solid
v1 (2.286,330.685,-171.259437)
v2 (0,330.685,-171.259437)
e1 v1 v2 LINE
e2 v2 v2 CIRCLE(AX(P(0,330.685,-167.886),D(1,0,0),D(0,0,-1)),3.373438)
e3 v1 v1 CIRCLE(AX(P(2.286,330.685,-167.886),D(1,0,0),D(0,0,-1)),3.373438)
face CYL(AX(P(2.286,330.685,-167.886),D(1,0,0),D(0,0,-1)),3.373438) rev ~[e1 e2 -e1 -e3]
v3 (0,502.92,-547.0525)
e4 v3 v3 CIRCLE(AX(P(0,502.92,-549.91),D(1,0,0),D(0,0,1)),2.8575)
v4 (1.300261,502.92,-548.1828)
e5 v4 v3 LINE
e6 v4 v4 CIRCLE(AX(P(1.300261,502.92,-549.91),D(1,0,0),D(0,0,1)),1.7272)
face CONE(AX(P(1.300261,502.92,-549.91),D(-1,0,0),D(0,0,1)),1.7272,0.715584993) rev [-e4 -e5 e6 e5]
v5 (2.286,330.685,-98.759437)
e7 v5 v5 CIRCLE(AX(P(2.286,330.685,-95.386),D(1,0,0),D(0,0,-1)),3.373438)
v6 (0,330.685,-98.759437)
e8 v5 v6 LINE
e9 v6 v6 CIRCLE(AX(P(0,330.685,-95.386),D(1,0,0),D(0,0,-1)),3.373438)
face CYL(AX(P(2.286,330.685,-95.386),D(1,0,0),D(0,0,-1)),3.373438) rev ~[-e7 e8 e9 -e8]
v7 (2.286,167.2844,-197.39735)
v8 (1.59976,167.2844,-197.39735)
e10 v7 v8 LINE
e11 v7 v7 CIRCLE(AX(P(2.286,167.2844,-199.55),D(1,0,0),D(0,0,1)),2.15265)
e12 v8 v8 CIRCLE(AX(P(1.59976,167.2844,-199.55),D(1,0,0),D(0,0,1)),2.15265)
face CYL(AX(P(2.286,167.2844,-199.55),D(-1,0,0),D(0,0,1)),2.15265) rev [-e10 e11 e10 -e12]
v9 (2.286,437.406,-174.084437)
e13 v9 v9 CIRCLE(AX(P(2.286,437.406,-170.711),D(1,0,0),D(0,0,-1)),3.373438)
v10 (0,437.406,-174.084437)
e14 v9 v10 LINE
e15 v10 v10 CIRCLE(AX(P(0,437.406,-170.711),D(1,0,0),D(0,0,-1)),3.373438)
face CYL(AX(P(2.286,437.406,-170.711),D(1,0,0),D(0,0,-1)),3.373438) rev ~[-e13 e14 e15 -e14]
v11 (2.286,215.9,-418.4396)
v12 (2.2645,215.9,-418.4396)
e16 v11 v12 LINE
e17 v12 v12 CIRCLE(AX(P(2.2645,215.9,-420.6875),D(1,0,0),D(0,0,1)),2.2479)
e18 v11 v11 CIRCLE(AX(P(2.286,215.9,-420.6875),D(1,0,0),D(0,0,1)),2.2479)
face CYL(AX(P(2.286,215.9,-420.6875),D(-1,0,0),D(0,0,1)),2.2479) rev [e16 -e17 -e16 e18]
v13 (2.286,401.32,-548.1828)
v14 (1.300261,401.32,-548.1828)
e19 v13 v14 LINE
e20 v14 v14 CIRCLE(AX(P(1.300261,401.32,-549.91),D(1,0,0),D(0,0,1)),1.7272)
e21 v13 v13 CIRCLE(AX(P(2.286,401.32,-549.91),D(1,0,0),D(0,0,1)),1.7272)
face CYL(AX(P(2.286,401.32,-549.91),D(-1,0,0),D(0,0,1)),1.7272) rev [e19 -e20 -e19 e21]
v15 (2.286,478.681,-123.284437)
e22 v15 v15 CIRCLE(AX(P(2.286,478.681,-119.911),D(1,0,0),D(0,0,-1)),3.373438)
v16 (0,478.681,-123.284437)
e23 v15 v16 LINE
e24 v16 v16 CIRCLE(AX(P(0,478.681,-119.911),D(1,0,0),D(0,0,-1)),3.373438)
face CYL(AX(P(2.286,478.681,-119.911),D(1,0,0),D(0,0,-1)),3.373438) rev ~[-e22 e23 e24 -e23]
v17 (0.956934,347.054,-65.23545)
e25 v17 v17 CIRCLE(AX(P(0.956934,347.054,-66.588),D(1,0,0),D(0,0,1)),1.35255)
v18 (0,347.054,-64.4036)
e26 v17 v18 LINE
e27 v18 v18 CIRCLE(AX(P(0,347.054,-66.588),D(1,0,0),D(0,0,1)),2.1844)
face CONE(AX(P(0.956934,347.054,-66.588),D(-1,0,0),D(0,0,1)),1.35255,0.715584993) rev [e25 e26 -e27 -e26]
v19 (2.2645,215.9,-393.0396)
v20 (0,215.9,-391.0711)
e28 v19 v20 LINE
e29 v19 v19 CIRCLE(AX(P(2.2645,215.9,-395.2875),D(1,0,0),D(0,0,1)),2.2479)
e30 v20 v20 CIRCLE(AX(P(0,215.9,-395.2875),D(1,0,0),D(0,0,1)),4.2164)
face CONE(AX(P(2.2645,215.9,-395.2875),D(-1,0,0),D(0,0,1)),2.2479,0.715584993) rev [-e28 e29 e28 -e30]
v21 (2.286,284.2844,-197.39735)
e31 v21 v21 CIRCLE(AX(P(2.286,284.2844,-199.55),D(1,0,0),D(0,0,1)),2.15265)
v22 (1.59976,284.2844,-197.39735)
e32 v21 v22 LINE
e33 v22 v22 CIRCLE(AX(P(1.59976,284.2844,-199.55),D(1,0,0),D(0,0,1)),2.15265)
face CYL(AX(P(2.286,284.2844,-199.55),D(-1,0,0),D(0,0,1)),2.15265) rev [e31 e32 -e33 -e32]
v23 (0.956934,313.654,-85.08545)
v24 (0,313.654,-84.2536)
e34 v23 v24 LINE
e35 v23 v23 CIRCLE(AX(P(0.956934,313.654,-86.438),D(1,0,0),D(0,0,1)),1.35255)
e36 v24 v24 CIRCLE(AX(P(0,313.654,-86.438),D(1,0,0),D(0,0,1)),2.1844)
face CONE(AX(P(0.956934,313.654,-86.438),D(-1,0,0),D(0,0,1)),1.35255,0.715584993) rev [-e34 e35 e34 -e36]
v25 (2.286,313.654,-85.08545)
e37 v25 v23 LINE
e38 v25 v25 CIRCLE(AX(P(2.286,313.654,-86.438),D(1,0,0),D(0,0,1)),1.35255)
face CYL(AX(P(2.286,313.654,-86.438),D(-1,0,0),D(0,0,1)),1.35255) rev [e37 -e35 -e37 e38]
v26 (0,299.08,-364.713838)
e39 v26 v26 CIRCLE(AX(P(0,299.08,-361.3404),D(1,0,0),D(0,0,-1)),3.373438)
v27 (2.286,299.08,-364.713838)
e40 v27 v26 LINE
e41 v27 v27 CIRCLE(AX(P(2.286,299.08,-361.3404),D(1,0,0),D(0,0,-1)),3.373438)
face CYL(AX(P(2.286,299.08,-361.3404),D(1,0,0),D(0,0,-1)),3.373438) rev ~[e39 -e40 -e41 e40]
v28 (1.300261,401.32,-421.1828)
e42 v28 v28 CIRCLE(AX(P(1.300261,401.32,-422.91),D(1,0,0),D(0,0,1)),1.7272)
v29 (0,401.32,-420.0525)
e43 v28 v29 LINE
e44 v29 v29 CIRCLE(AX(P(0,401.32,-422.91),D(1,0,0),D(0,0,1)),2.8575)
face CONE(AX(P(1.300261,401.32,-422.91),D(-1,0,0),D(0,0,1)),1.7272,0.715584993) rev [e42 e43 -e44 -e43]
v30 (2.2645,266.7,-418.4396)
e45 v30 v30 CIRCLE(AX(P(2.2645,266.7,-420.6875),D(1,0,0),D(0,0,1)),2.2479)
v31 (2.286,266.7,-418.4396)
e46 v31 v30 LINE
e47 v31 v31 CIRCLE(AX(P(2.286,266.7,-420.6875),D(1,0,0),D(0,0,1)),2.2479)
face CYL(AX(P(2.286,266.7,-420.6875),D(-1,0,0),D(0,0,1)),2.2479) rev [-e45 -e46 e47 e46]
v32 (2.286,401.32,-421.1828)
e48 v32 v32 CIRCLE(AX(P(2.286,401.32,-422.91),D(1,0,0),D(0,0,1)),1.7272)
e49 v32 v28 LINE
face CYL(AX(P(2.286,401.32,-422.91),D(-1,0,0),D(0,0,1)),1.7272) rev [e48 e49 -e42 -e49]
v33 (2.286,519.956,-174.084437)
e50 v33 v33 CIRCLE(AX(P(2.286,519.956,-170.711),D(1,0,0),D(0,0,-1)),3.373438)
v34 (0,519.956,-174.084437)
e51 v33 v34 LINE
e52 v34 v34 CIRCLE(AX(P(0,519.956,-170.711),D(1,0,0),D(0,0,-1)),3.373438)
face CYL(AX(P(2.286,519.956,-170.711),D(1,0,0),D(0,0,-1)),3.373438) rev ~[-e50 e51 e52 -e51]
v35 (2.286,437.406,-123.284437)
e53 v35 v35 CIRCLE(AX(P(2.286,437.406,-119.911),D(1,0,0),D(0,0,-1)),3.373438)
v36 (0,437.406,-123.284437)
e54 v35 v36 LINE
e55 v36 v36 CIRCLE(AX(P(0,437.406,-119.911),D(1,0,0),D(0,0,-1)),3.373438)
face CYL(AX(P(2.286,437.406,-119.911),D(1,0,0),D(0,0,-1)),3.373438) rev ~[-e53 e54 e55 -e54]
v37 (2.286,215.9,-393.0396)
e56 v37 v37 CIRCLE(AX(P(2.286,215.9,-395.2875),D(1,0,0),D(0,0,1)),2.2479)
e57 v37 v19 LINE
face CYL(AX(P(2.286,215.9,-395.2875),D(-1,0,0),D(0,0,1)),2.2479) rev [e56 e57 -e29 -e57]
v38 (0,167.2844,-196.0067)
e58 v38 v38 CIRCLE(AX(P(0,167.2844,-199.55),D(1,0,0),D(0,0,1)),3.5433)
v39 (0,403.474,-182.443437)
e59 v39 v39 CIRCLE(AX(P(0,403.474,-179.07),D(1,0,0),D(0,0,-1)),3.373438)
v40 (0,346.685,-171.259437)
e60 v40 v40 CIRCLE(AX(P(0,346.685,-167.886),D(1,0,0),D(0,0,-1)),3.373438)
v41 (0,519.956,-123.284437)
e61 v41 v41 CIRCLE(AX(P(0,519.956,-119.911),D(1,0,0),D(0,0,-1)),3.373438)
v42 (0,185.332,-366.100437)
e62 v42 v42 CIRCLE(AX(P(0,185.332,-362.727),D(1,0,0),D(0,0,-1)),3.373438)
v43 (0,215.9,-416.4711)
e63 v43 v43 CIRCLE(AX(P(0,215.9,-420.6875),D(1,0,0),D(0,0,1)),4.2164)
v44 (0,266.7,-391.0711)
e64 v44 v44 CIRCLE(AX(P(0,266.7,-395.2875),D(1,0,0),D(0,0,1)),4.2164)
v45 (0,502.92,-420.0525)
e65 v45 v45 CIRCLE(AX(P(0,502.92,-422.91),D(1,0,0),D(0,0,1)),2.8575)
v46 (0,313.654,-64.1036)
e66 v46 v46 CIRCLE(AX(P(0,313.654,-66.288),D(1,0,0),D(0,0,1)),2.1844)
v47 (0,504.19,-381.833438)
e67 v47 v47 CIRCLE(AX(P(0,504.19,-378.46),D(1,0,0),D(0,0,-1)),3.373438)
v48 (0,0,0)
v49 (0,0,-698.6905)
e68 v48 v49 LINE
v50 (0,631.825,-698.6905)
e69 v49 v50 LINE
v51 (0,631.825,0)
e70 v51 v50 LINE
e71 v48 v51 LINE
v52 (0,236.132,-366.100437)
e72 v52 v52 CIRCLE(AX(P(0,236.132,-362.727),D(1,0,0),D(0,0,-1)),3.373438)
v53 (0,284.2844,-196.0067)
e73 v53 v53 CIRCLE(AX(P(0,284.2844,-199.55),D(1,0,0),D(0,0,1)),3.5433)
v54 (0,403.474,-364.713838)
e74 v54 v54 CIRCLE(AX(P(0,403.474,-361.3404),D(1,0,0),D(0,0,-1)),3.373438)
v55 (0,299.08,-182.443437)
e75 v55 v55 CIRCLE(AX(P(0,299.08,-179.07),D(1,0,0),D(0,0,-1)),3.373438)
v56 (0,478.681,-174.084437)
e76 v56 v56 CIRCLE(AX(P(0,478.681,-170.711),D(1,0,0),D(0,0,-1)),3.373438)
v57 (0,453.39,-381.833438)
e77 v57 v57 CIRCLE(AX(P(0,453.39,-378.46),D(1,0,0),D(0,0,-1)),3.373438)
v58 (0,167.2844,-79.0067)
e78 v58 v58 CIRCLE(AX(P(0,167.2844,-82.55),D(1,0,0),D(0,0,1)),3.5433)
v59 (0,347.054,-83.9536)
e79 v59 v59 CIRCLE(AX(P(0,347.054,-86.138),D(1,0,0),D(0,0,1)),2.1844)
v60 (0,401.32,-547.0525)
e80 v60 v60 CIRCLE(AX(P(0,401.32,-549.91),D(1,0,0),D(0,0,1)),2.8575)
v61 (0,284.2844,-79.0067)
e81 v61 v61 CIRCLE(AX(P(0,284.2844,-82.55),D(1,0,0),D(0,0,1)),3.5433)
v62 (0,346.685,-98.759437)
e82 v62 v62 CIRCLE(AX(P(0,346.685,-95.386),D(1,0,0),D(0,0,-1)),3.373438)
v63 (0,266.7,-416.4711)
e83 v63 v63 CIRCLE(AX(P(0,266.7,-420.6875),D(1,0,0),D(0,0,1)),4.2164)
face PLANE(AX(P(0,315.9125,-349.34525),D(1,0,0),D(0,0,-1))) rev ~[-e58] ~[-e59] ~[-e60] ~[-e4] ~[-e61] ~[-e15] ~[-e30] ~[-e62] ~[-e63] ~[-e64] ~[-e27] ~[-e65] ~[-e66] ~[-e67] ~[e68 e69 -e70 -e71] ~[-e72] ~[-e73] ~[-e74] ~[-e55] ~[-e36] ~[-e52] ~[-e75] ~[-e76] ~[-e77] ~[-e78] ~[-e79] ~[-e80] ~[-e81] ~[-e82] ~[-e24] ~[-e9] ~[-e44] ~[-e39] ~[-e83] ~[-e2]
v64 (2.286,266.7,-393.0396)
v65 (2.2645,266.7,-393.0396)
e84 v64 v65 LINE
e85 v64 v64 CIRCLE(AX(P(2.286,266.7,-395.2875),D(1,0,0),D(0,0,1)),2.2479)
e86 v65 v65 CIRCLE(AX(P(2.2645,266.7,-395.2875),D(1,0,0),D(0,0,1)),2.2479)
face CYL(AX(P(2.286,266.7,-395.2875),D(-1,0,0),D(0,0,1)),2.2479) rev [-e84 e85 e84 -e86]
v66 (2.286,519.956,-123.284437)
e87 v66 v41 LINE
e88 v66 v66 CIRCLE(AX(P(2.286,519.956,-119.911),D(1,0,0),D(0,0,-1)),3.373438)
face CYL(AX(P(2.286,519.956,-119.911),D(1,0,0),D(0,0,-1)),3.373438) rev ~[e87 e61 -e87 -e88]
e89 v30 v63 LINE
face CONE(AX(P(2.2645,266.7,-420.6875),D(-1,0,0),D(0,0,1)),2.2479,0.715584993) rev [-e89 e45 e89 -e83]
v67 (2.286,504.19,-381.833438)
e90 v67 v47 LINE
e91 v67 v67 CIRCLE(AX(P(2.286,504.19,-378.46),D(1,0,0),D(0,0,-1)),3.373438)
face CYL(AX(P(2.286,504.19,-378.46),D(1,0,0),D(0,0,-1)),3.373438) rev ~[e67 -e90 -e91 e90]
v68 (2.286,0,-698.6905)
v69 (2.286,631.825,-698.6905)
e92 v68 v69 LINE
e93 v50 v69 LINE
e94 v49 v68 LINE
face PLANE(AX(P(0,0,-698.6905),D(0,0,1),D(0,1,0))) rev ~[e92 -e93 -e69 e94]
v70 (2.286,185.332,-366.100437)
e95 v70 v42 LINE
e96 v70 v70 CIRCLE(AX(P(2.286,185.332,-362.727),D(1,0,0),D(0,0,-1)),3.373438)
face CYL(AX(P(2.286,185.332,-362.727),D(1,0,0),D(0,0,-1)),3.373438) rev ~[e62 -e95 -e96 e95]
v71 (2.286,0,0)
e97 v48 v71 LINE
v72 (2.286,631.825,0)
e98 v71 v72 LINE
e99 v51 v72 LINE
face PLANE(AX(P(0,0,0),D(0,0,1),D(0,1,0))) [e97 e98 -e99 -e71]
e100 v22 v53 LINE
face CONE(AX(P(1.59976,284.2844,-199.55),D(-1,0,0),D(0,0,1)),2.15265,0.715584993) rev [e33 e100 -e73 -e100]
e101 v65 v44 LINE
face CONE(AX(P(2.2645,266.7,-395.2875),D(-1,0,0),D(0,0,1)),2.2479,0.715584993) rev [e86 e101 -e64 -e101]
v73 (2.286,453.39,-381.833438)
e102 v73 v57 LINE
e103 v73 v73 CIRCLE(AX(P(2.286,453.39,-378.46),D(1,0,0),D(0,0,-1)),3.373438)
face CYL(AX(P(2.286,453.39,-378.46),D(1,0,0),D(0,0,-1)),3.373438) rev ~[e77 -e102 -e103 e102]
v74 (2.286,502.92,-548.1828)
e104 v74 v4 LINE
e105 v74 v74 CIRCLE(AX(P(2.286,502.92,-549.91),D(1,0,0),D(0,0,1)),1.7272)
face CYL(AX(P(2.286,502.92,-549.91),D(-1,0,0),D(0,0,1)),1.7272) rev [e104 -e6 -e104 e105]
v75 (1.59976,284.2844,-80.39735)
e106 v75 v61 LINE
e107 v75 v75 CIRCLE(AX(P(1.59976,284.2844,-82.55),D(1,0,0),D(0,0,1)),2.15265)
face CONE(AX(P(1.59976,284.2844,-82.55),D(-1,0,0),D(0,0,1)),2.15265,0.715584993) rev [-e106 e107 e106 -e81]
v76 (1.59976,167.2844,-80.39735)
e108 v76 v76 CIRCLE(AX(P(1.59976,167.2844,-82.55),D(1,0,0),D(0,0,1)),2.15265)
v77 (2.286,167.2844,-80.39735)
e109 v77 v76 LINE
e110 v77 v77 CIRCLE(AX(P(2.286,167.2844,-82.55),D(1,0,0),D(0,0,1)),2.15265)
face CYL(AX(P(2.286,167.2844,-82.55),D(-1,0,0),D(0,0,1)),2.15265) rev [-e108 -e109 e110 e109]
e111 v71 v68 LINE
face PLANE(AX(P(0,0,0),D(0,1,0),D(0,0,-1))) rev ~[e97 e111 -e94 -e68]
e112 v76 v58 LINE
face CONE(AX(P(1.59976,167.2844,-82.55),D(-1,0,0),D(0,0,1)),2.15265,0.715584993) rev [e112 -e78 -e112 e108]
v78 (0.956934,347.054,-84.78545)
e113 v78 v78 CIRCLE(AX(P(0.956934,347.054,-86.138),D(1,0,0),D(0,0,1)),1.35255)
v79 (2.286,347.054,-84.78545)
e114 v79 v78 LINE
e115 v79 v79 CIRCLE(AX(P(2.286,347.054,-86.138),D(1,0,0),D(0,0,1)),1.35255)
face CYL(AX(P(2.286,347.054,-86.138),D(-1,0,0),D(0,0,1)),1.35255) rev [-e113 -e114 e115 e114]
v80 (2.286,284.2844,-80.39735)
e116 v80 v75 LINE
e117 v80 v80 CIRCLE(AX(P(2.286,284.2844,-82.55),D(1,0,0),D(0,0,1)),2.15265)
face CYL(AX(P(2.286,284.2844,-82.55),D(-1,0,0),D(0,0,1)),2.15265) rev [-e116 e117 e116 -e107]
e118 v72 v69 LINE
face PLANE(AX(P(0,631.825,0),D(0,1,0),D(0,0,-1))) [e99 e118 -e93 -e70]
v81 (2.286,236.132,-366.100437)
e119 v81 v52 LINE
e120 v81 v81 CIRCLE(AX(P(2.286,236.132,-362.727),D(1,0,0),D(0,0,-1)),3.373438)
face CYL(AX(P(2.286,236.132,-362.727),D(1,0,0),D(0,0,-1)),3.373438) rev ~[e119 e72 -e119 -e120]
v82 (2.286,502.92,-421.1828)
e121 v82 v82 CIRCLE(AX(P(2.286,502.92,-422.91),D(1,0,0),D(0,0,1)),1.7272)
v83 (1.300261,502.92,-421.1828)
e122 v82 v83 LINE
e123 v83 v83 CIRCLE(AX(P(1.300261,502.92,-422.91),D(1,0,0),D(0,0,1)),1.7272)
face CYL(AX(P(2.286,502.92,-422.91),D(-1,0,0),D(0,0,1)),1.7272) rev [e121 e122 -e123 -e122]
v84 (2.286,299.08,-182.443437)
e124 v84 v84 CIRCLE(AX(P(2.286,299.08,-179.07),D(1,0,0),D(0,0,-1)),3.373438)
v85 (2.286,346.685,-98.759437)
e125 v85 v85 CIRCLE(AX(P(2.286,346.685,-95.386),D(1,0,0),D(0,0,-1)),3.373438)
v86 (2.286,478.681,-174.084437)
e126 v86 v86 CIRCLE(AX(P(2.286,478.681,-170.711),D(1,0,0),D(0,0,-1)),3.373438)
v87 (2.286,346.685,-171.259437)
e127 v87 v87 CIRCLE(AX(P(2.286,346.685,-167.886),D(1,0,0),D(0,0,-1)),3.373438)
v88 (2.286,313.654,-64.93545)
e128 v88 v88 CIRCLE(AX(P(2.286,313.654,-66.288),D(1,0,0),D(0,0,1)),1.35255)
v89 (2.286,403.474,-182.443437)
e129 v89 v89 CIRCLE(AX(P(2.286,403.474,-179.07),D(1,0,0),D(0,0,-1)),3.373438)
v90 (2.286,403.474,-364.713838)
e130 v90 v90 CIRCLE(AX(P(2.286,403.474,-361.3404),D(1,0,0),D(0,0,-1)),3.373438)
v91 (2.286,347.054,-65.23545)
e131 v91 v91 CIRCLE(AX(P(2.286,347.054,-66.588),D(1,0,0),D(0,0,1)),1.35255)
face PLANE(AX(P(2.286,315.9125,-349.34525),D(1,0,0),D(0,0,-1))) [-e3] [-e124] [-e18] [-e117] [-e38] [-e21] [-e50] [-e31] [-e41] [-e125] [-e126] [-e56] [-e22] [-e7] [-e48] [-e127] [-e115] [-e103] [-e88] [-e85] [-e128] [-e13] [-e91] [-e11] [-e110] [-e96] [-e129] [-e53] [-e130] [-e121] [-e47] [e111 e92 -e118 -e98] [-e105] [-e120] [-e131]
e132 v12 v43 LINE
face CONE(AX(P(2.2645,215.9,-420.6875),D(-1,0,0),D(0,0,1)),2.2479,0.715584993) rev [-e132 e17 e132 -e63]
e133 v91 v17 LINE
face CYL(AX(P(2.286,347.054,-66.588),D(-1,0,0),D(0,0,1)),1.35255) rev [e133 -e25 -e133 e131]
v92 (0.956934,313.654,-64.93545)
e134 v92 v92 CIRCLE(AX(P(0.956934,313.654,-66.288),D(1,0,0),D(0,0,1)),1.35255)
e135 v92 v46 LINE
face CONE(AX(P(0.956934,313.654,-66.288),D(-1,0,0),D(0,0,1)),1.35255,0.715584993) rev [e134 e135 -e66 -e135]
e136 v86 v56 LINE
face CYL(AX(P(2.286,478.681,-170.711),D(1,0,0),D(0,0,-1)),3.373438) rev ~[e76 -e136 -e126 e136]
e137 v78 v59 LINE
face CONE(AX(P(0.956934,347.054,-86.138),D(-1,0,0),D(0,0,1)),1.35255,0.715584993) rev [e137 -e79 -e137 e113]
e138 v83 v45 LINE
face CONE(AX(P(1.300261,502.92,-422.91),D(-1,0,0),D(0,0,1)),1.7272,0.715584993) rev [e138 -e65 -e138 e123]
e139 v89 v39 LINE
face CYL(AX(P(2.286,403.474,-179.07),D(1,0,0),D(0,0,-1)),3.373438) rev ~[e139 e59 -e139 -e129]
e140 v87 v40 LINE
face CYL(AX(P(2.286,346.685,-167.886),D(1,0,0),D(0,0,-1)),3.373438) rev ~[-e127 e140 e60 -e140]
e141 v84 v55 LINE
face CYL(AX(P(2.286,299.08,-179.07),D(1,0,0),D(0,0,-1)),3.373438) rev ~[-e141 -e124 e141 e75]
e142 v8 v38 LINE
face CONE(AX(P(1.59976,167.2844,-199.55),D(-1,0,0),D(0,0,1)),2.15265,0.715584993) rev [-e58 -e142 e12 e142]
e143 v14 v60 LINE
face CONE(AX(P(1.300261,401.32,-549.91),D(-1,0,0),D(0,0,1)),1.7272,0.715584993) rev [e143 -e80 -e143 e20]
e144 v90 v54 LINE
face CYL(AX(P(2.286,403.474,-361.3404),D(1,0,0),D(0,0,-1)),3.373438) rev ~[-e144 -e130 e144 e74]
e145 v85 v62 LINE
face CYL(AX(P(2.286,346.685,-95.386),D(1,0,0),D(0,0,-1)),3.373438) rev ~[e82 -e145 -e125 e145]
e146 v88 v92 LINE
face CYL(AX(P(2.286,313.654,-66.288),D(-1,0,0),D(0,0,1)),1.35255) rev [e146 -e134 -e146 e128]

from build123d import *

# Parameters (mm, degrees)
SKETCH1_W                                     = 698.6905
SKETCH1_H                                     = 631.825
BOSS_EXTRUDE1_DEPTH                           = 2.286
SKETCH3_R                                     = 3.3734375
CUT_EXTRUDE1_DEPTH                            = 943.006619516
CSK_FOR_6_FLAT_HEAD_MACHINE_SCREW1_AT_2_COUNT = 2
CSK_FOR_6_FLAT_HEAD_MACHINE_SCREW1_AT_2_PITCH = 117
CSK_FOR_6_FLAT_HEAD_MACHINE_SCREW1_AT_3_COUNT = 2
CSK_FOR_6_FLAT_HEAD_MACHINE_SCREW1_AT_3_PITCH = 165.462986798
CSK_FOR_6_FLAT_HEAD_MACHINE_SCREW1_AT_4_COUNT = 2
CSK_FOR_6_FLAT_HEAD_MACHINE_SCREW1_AT_4_PITCH = 117
CSK_FOR_2_FLAT_HEAD_MACHINE_SCREW1_AT_2_COUNT = 2
CSK_FOR_2_FLAT_HEAD_MACHINE_SCREW1_AT_2_PITCH = 19.55
CSK_FOR_2_FLAT_HEAD_MACHINE_SCREW1_AT_3_COUNT = 2
CSK_FOR_2_FLAT_HEAD_MACHINE_SCREW1_AT_3_PITCH = 38.853346059
CSK_FOR_2_FLAT_HEAD_MACHINE_SCREW1_AT_4_COUNT = 2
CSK_FOR_2_FLAT_HEAD_MACHINE_SCREW1_AT_4_PITCH = 33.401347278
CSK_FOR_4_FLAT_HEAD_MACHINE_SCREW1_AT_2_COUNT = 2
CSK_FOR_4_FLAT_HEAD_MACHINE_SCREW1_AT_2_PITCH = 101.6
CSK_FOR_4_FLAT_HEAD_MACHINE_SCREW1_AT_3_COUNT = 2
CSK_FOR_4_FLAT_HEAD_MACHINE_SCREW1_AT_3_PITCH = 162.639355631
CSK_FOR_4_FLAT_HEAD_MACHINE_SCREW1_AT_4_COUNT = 2
CSK_FOR_4_FLAT_HEAD_MACHINE_SCREW1_AT_4_PITCH = 127
CSK_FOR_8_FLAT_HEAD_MACHINE_SCREW1_AT_2_COUNT = 2
CSK_FOR_8_FLAT_HEAD_MACHINE_SCREW1_AT_2_PITCH = 56.796126628
CSK_FOR_8_FLAT_HEAD_MACHINE_SCREW1_AT_3_COUNT = 2
CSK_FOR_8_FLAT_HEAD_MACHINE_SCREW1_AT_3_PITCH = 50.8
CSK_FOR_8_FLAT_HEAD_MACHINE_SCREW1_AT_4_COUNT = 2
CSK_FOR_8_FLAT_HEAD_MACHINE_SCREW1_AT_4_PITCH = 25.4


with BuildPart() as part:
    # Sketch1 → Boss-Extrude1 (new body)
    with BuildSketch(Plane(origin=(0, 0, 0), x_dir=(0, 0, -1), z_dir=(1, 0, 0))):
        with Locations((349.34525, 315.9125)):
            Rectangle(SKETCH1_W, SKETCH1_H)
    extrude(amount=BOSS_EXTRUDE1_DEPTH)

    # Sketch3 → Cut-Extrude1 (cut, through all)
    with BuildSketch(Plane(origin=(2.286, 0, 0), x_dir=(0, 0, -1), z_dir=(1, 0, 0))):
        with Locations((179.07, 299.08)):
            Circle(SKETCH3_R)
        with Locations((179.07, 403.474)):
            Circle(SKETCH3_R)
        with Locations((361.3404, 403.474)):
            Circle(SKETCH3_R)
        with Locations((361.3404, 299.08)):
            Circle(SKETCH3_R)
        with Locations((119.910999954, 437.406)):
            Circle(SKETCH3_R)
        with Locations((170.710999954, 437.406)):
            Circle(SKETCH3_R)
        with Locations((119.910999954, 478.681)):
            Circle(SKETCH3_R)
        with Locations((170.710999954, 478.681)):
            Circle(SKETCH3_R)
        with Locations((119.910999954, 519.956)):
            Circle(SKETCH3_R)
        with Locations((170.710999954, 519.956)):
            Circle(SKETCH3_R)
        with Locations((362.727, 185.332)):
            Circle(SKETCH3_R)
        with Locations((362.727, 236.132)):
            Circle(SKETCH3_R)
        with Locations((378.46, 453.39)):
            Circle(SKETCH3_R)
        with Locations((378.46, 504.19)):
            Circle(SKETCH3_R)
        with Locations((95.385999982, 330.685)):
            Circle(SKETCH3_R)
        with Locations((95.385999982, 346.685)):
            Circle(SKETCH3_R)
        with Locations((167.885999982, 346.685)):
            Circle(SKETCH3_R)
        with Locations((167.885999982, 330.685)):
            Circle(SKETCH3_R)
    extrude(amount=-CUT_EXTRUDE1_DEPTH, mode=Mode.SUBTRACT)

    # Sketch5 → CSK for #6 Flat Head Machine Screw1 (revolve, cut)
    with BuildSketch(Plane(origin=(0, 167.2844, -82.55), x_dir=(0, 0, 1), z_dir=(0, 1, 0))):
        Polygon((0, 0), (0, 2.286), (2.15265, 2.286), (2.15265, 1.599759826), (3.5433, 0), align=None)
    csk_for_6_flat_head_machine_screw1 = revolve(axis=Axis((-6.35, 167.2844, -82.55), (1, 0, 0)), mode=Mode.SUBTRACT)

    # CSK for #6 Flat Head Machine Screw1 at 2: CSK for #6 Flat Head Machine Screw1 ×2
    with Locations(*[(0, 0, -i * CSK_FOR_6_FLAT_HEAD_MACHINE_SCREW1_AT_2_PITCH) for i in range(1, CSK_FOR_6_FLAT_HEAD_MACHINE_SCREW1_AT_2_COUNT)]):
        add(csk_for_6_flat_head_machine_screw1, mode=Mode.SUBTRACT)

    # CSK for #6 Flat Head Machine Screw1 at 3: CSK for #6 Flat Head Machine Screw1 ×2
    with Locations(*[Vector(0, 0.7071067811865476, -0.7071067811865476) * (i * CSK_FOR_6_FLAT_HEAD_MACHINE_SCREW1_AT_3_PITCH) for i in range(1, CSK_FOR_6_FLAT_HEAD_MACHINE_SCREW1_AT_3_COUNT)]):
        add(csk_for_6_flat_head_machine_screw1, mode=Mode.SUBTRACT)

    # CSK for #6 Flat Head Machine Screw1 at 4: CSK for #6 Flat Head Machine Screw1 ×2
    with Locations(*[(0, i * CSK_FOR_6_FLAT_HEAD_MACHINE_SCREW1_AT_4_PITCH, 0) for i in range(1, CSK_FOR_6_FLAT_HEAD_MACHINE_SCREW1_AT_4_COUNT)]):
        add(csk_for_6_flat_head_machine_screw1, mode=Mode.SUBTRACT)

    # Sketch10 → CSK for #2 Flat Head Machine Screw1 (revolve, cut)
    with BuildSketch(Plane(origin=(0, 347.054, -66.588), x_dir=(0, 0, 1), z_dir=(0, 1, 0))):
        Polygon((0, 0), (0, 2.286), (1.35255, 2.286), (1.35255, 0.95693396), (2.1844, 0), align=None)
    csk_for_2_flat_head_machine_screw1 = revolve(axis=Axis((-6.35, 347.054, -66.588), (1, 0, 0)), mode=Mode.SUBTRACT)

    # CSK for #2 Flat Head Machine Screw1 at 2: CSK for #2 Flat Head Machine Screw1 ×2
    with Locations(*[(0, 0, -i * CSK_FOR_2_FLAT_HEAD_MACHINE_SCREW1_AT_2_PITCH) for i in range(1, CSK_FOR_2_FLAT_HEAD_MACHINE_SCREW1_AT_2_COUNT)]):
        add(csk_for_2_flat_head_machine_screw1, mode=Mode.SUBTRACT)

    # CSK for #2 Flat Head Machine Screw1 at 3: CSK for #2 Flat Head Machine Screw1 ×2
    with Locations(*[Vector(0, -0.8596428206997768, -0.5108955087092969) * (i * CSK_FOR_2_FLAT_HEAD_MACHINE_SCREW1_AT_3_PITCH) for i in range(1, CSK_FOR_2_FLAT_HEAD_MACHINE_SCREW1_AT_3_COUNT)]):
        add(csk_for_2_flat_head_machine_screw1, mode=Mode.SUBTRACT)

    # CSK for #2 Flat Head Machine Screw1 at 4: CSK for #2 Flat Head Machine Screw1 ×2
    with Locations(*[Vector(0, -0.9999596639559187, 0.008981673628349049) * (i * CSK_FOR_2_FLAT_HEAD_MACHINE_SCREW1_AT_4_PITCH) for i in range(1, CSK_FOR_2_FLAT_HEAD_MACHINE_SCREW1_AT_4_COUNT)]):
        add(csk_for_2_flat_head_machine_screw1, mode=Mode.SUBTRACT)

    # Sketch12 → CSK for #4 Flat Head Machine Screw1 (revolve, cut)
    with BuildSketch(Plane(origin=(0, 502.92, -422.91), x_dir=(0, 0, 1), z_dir=(0, 1, 0))):
        Polygon((0, 0), (0, 2.286), (1.7272, 2.286), (1.7272, 1.300261411), (2.8575, 0), align=None)
    csk_for_4_flat_head_machine_screw1 = revolve(axis=Axis((-6.35, 502.92, -422.91), (1, 0, 0)), mode=Mode.SUBTRACT)

    # CSK for #4 Flat Head Machine Screw1 at 2: CSK for #4 Flat Head Machine Screw1 ×2
    with Locations(*[(0, -i * CSK_FOR_4_FLAT_HEAD_MACHINE_SCREW1_AT_2_PITCH, 0) for i in range(1, CSK_FOR_4_FLAT_HEAD_MACHINE_SCREW1_AT_2_COUNT)]):
        add(csk_for_4_flat_head_machine_screw1, mode=Mode.SUBTRACT)

    # CSK for #4 Flat Head Machine Screw1 at 3: CSK for #4 Flat Head Machine Screw1 ×2
    with Locations(*[Vector(0, -0.6246950475544247, -0.7808688094430299) * (i * CSK_FOR_4_FLAT_HEAD_MACHINE_SCREW1_AT_3_PITCH) for i in range(1, CSK_FOR_4_FLAT_HEAD_MACHINE_SCREW1_AT_3_COUNT)]):
        add(csk_for_4_flat_head_machine_screw1, mode=Mode.SUBTRACT)

    # CSK for #4 Flat Head Machine Screw1 at 4: CSK for #4 Flat Head Machine Screw1 ×2
    with Locations(*[(0, 0, -i * CSK_FOR_4_FLAT_HEAD_MACHINE_SCREW1_AT_4_PITCH) for i in range(1, CSK_FOR_4_FLAT_HEAD_MACHINE_SCREW1_AT_4_COUNT)]):
        add(csk_for_4_flat_head_machine_screw1, mode=Mode.SUBTRACT)

    # Sketch14 → CSK for #8 Flat Head Machine Screw1 (revolve, cut)
    with BuildSketch(Plane(origin=(0, 215.9, -395.2875), x_dir=(0, 0, 1), z_dir=(0, 1, 0))):
        Polygon((0, 0), (0, 2.286), (2.2479, 2.286), (2.2479, 2.26450021), (4.2164, 0), align=None)
    csk_for_8_flat_head_machine_screw1 = revolve(axis=Axis((-6.35, 215.9, -395.2875), (1, 0, 0)), mode=Mode.SUBTRACT)

    # CSK for #8 Flat Head Machine Screw1 at 2: CSK for #8 Flat Head Machine Screw1 ×2
    with Locations(*[Vector(0, 0.8944271909999156, -0.44721359549995837) * (i * CSK_FOR_8_FLAT_HEAD_MACHINE_SCREW1_AT_2_PITCH) for i in range(1, CSK_FOR_8_FLAT_HEAD_MACHINE_SCREW1_AT_2_COUNT)]):
        add(csk_for_8_flat_head_machine_screw1, mode=Mode.SUBTRACT)

    # CSK for #8 Flat Head Machine Screw1 at 3: CSK for #8 Flat Head Machine Screw1 ×2
    with Locations(*[(0, i * CSK_FOR_8_FLAT_HEAD_MACHINE_SCREW1_AT_3_PITCH, 0) for i in range(1, CSK_FOR_8_FLAT_HEAD_MACHINE_SCREW1_AT_3_COUNT)]):
        add(csk_for_8_flat_head_machine_screw1, mode=Mode.SUBTRACT)

    # CSK for #8 Flat Head Machine Screw1 at 4: CSK for #8 Flat Head Machine Screw1 ×2
    with Locations(*[(0, 0, -i * CSK_FOR_8_FLAT_HEAD_MACHINE_SCREW1_AT_4_PITCH) for i in range(1, CSK_FOR_8_FLAT_HEAD_MACHINE_SCREW1_AT_4_COUNT)]):
        add(csk_for_8_flat_head_machine_screw1, mode=Mode.SUBTRACT)


solid = part.part
